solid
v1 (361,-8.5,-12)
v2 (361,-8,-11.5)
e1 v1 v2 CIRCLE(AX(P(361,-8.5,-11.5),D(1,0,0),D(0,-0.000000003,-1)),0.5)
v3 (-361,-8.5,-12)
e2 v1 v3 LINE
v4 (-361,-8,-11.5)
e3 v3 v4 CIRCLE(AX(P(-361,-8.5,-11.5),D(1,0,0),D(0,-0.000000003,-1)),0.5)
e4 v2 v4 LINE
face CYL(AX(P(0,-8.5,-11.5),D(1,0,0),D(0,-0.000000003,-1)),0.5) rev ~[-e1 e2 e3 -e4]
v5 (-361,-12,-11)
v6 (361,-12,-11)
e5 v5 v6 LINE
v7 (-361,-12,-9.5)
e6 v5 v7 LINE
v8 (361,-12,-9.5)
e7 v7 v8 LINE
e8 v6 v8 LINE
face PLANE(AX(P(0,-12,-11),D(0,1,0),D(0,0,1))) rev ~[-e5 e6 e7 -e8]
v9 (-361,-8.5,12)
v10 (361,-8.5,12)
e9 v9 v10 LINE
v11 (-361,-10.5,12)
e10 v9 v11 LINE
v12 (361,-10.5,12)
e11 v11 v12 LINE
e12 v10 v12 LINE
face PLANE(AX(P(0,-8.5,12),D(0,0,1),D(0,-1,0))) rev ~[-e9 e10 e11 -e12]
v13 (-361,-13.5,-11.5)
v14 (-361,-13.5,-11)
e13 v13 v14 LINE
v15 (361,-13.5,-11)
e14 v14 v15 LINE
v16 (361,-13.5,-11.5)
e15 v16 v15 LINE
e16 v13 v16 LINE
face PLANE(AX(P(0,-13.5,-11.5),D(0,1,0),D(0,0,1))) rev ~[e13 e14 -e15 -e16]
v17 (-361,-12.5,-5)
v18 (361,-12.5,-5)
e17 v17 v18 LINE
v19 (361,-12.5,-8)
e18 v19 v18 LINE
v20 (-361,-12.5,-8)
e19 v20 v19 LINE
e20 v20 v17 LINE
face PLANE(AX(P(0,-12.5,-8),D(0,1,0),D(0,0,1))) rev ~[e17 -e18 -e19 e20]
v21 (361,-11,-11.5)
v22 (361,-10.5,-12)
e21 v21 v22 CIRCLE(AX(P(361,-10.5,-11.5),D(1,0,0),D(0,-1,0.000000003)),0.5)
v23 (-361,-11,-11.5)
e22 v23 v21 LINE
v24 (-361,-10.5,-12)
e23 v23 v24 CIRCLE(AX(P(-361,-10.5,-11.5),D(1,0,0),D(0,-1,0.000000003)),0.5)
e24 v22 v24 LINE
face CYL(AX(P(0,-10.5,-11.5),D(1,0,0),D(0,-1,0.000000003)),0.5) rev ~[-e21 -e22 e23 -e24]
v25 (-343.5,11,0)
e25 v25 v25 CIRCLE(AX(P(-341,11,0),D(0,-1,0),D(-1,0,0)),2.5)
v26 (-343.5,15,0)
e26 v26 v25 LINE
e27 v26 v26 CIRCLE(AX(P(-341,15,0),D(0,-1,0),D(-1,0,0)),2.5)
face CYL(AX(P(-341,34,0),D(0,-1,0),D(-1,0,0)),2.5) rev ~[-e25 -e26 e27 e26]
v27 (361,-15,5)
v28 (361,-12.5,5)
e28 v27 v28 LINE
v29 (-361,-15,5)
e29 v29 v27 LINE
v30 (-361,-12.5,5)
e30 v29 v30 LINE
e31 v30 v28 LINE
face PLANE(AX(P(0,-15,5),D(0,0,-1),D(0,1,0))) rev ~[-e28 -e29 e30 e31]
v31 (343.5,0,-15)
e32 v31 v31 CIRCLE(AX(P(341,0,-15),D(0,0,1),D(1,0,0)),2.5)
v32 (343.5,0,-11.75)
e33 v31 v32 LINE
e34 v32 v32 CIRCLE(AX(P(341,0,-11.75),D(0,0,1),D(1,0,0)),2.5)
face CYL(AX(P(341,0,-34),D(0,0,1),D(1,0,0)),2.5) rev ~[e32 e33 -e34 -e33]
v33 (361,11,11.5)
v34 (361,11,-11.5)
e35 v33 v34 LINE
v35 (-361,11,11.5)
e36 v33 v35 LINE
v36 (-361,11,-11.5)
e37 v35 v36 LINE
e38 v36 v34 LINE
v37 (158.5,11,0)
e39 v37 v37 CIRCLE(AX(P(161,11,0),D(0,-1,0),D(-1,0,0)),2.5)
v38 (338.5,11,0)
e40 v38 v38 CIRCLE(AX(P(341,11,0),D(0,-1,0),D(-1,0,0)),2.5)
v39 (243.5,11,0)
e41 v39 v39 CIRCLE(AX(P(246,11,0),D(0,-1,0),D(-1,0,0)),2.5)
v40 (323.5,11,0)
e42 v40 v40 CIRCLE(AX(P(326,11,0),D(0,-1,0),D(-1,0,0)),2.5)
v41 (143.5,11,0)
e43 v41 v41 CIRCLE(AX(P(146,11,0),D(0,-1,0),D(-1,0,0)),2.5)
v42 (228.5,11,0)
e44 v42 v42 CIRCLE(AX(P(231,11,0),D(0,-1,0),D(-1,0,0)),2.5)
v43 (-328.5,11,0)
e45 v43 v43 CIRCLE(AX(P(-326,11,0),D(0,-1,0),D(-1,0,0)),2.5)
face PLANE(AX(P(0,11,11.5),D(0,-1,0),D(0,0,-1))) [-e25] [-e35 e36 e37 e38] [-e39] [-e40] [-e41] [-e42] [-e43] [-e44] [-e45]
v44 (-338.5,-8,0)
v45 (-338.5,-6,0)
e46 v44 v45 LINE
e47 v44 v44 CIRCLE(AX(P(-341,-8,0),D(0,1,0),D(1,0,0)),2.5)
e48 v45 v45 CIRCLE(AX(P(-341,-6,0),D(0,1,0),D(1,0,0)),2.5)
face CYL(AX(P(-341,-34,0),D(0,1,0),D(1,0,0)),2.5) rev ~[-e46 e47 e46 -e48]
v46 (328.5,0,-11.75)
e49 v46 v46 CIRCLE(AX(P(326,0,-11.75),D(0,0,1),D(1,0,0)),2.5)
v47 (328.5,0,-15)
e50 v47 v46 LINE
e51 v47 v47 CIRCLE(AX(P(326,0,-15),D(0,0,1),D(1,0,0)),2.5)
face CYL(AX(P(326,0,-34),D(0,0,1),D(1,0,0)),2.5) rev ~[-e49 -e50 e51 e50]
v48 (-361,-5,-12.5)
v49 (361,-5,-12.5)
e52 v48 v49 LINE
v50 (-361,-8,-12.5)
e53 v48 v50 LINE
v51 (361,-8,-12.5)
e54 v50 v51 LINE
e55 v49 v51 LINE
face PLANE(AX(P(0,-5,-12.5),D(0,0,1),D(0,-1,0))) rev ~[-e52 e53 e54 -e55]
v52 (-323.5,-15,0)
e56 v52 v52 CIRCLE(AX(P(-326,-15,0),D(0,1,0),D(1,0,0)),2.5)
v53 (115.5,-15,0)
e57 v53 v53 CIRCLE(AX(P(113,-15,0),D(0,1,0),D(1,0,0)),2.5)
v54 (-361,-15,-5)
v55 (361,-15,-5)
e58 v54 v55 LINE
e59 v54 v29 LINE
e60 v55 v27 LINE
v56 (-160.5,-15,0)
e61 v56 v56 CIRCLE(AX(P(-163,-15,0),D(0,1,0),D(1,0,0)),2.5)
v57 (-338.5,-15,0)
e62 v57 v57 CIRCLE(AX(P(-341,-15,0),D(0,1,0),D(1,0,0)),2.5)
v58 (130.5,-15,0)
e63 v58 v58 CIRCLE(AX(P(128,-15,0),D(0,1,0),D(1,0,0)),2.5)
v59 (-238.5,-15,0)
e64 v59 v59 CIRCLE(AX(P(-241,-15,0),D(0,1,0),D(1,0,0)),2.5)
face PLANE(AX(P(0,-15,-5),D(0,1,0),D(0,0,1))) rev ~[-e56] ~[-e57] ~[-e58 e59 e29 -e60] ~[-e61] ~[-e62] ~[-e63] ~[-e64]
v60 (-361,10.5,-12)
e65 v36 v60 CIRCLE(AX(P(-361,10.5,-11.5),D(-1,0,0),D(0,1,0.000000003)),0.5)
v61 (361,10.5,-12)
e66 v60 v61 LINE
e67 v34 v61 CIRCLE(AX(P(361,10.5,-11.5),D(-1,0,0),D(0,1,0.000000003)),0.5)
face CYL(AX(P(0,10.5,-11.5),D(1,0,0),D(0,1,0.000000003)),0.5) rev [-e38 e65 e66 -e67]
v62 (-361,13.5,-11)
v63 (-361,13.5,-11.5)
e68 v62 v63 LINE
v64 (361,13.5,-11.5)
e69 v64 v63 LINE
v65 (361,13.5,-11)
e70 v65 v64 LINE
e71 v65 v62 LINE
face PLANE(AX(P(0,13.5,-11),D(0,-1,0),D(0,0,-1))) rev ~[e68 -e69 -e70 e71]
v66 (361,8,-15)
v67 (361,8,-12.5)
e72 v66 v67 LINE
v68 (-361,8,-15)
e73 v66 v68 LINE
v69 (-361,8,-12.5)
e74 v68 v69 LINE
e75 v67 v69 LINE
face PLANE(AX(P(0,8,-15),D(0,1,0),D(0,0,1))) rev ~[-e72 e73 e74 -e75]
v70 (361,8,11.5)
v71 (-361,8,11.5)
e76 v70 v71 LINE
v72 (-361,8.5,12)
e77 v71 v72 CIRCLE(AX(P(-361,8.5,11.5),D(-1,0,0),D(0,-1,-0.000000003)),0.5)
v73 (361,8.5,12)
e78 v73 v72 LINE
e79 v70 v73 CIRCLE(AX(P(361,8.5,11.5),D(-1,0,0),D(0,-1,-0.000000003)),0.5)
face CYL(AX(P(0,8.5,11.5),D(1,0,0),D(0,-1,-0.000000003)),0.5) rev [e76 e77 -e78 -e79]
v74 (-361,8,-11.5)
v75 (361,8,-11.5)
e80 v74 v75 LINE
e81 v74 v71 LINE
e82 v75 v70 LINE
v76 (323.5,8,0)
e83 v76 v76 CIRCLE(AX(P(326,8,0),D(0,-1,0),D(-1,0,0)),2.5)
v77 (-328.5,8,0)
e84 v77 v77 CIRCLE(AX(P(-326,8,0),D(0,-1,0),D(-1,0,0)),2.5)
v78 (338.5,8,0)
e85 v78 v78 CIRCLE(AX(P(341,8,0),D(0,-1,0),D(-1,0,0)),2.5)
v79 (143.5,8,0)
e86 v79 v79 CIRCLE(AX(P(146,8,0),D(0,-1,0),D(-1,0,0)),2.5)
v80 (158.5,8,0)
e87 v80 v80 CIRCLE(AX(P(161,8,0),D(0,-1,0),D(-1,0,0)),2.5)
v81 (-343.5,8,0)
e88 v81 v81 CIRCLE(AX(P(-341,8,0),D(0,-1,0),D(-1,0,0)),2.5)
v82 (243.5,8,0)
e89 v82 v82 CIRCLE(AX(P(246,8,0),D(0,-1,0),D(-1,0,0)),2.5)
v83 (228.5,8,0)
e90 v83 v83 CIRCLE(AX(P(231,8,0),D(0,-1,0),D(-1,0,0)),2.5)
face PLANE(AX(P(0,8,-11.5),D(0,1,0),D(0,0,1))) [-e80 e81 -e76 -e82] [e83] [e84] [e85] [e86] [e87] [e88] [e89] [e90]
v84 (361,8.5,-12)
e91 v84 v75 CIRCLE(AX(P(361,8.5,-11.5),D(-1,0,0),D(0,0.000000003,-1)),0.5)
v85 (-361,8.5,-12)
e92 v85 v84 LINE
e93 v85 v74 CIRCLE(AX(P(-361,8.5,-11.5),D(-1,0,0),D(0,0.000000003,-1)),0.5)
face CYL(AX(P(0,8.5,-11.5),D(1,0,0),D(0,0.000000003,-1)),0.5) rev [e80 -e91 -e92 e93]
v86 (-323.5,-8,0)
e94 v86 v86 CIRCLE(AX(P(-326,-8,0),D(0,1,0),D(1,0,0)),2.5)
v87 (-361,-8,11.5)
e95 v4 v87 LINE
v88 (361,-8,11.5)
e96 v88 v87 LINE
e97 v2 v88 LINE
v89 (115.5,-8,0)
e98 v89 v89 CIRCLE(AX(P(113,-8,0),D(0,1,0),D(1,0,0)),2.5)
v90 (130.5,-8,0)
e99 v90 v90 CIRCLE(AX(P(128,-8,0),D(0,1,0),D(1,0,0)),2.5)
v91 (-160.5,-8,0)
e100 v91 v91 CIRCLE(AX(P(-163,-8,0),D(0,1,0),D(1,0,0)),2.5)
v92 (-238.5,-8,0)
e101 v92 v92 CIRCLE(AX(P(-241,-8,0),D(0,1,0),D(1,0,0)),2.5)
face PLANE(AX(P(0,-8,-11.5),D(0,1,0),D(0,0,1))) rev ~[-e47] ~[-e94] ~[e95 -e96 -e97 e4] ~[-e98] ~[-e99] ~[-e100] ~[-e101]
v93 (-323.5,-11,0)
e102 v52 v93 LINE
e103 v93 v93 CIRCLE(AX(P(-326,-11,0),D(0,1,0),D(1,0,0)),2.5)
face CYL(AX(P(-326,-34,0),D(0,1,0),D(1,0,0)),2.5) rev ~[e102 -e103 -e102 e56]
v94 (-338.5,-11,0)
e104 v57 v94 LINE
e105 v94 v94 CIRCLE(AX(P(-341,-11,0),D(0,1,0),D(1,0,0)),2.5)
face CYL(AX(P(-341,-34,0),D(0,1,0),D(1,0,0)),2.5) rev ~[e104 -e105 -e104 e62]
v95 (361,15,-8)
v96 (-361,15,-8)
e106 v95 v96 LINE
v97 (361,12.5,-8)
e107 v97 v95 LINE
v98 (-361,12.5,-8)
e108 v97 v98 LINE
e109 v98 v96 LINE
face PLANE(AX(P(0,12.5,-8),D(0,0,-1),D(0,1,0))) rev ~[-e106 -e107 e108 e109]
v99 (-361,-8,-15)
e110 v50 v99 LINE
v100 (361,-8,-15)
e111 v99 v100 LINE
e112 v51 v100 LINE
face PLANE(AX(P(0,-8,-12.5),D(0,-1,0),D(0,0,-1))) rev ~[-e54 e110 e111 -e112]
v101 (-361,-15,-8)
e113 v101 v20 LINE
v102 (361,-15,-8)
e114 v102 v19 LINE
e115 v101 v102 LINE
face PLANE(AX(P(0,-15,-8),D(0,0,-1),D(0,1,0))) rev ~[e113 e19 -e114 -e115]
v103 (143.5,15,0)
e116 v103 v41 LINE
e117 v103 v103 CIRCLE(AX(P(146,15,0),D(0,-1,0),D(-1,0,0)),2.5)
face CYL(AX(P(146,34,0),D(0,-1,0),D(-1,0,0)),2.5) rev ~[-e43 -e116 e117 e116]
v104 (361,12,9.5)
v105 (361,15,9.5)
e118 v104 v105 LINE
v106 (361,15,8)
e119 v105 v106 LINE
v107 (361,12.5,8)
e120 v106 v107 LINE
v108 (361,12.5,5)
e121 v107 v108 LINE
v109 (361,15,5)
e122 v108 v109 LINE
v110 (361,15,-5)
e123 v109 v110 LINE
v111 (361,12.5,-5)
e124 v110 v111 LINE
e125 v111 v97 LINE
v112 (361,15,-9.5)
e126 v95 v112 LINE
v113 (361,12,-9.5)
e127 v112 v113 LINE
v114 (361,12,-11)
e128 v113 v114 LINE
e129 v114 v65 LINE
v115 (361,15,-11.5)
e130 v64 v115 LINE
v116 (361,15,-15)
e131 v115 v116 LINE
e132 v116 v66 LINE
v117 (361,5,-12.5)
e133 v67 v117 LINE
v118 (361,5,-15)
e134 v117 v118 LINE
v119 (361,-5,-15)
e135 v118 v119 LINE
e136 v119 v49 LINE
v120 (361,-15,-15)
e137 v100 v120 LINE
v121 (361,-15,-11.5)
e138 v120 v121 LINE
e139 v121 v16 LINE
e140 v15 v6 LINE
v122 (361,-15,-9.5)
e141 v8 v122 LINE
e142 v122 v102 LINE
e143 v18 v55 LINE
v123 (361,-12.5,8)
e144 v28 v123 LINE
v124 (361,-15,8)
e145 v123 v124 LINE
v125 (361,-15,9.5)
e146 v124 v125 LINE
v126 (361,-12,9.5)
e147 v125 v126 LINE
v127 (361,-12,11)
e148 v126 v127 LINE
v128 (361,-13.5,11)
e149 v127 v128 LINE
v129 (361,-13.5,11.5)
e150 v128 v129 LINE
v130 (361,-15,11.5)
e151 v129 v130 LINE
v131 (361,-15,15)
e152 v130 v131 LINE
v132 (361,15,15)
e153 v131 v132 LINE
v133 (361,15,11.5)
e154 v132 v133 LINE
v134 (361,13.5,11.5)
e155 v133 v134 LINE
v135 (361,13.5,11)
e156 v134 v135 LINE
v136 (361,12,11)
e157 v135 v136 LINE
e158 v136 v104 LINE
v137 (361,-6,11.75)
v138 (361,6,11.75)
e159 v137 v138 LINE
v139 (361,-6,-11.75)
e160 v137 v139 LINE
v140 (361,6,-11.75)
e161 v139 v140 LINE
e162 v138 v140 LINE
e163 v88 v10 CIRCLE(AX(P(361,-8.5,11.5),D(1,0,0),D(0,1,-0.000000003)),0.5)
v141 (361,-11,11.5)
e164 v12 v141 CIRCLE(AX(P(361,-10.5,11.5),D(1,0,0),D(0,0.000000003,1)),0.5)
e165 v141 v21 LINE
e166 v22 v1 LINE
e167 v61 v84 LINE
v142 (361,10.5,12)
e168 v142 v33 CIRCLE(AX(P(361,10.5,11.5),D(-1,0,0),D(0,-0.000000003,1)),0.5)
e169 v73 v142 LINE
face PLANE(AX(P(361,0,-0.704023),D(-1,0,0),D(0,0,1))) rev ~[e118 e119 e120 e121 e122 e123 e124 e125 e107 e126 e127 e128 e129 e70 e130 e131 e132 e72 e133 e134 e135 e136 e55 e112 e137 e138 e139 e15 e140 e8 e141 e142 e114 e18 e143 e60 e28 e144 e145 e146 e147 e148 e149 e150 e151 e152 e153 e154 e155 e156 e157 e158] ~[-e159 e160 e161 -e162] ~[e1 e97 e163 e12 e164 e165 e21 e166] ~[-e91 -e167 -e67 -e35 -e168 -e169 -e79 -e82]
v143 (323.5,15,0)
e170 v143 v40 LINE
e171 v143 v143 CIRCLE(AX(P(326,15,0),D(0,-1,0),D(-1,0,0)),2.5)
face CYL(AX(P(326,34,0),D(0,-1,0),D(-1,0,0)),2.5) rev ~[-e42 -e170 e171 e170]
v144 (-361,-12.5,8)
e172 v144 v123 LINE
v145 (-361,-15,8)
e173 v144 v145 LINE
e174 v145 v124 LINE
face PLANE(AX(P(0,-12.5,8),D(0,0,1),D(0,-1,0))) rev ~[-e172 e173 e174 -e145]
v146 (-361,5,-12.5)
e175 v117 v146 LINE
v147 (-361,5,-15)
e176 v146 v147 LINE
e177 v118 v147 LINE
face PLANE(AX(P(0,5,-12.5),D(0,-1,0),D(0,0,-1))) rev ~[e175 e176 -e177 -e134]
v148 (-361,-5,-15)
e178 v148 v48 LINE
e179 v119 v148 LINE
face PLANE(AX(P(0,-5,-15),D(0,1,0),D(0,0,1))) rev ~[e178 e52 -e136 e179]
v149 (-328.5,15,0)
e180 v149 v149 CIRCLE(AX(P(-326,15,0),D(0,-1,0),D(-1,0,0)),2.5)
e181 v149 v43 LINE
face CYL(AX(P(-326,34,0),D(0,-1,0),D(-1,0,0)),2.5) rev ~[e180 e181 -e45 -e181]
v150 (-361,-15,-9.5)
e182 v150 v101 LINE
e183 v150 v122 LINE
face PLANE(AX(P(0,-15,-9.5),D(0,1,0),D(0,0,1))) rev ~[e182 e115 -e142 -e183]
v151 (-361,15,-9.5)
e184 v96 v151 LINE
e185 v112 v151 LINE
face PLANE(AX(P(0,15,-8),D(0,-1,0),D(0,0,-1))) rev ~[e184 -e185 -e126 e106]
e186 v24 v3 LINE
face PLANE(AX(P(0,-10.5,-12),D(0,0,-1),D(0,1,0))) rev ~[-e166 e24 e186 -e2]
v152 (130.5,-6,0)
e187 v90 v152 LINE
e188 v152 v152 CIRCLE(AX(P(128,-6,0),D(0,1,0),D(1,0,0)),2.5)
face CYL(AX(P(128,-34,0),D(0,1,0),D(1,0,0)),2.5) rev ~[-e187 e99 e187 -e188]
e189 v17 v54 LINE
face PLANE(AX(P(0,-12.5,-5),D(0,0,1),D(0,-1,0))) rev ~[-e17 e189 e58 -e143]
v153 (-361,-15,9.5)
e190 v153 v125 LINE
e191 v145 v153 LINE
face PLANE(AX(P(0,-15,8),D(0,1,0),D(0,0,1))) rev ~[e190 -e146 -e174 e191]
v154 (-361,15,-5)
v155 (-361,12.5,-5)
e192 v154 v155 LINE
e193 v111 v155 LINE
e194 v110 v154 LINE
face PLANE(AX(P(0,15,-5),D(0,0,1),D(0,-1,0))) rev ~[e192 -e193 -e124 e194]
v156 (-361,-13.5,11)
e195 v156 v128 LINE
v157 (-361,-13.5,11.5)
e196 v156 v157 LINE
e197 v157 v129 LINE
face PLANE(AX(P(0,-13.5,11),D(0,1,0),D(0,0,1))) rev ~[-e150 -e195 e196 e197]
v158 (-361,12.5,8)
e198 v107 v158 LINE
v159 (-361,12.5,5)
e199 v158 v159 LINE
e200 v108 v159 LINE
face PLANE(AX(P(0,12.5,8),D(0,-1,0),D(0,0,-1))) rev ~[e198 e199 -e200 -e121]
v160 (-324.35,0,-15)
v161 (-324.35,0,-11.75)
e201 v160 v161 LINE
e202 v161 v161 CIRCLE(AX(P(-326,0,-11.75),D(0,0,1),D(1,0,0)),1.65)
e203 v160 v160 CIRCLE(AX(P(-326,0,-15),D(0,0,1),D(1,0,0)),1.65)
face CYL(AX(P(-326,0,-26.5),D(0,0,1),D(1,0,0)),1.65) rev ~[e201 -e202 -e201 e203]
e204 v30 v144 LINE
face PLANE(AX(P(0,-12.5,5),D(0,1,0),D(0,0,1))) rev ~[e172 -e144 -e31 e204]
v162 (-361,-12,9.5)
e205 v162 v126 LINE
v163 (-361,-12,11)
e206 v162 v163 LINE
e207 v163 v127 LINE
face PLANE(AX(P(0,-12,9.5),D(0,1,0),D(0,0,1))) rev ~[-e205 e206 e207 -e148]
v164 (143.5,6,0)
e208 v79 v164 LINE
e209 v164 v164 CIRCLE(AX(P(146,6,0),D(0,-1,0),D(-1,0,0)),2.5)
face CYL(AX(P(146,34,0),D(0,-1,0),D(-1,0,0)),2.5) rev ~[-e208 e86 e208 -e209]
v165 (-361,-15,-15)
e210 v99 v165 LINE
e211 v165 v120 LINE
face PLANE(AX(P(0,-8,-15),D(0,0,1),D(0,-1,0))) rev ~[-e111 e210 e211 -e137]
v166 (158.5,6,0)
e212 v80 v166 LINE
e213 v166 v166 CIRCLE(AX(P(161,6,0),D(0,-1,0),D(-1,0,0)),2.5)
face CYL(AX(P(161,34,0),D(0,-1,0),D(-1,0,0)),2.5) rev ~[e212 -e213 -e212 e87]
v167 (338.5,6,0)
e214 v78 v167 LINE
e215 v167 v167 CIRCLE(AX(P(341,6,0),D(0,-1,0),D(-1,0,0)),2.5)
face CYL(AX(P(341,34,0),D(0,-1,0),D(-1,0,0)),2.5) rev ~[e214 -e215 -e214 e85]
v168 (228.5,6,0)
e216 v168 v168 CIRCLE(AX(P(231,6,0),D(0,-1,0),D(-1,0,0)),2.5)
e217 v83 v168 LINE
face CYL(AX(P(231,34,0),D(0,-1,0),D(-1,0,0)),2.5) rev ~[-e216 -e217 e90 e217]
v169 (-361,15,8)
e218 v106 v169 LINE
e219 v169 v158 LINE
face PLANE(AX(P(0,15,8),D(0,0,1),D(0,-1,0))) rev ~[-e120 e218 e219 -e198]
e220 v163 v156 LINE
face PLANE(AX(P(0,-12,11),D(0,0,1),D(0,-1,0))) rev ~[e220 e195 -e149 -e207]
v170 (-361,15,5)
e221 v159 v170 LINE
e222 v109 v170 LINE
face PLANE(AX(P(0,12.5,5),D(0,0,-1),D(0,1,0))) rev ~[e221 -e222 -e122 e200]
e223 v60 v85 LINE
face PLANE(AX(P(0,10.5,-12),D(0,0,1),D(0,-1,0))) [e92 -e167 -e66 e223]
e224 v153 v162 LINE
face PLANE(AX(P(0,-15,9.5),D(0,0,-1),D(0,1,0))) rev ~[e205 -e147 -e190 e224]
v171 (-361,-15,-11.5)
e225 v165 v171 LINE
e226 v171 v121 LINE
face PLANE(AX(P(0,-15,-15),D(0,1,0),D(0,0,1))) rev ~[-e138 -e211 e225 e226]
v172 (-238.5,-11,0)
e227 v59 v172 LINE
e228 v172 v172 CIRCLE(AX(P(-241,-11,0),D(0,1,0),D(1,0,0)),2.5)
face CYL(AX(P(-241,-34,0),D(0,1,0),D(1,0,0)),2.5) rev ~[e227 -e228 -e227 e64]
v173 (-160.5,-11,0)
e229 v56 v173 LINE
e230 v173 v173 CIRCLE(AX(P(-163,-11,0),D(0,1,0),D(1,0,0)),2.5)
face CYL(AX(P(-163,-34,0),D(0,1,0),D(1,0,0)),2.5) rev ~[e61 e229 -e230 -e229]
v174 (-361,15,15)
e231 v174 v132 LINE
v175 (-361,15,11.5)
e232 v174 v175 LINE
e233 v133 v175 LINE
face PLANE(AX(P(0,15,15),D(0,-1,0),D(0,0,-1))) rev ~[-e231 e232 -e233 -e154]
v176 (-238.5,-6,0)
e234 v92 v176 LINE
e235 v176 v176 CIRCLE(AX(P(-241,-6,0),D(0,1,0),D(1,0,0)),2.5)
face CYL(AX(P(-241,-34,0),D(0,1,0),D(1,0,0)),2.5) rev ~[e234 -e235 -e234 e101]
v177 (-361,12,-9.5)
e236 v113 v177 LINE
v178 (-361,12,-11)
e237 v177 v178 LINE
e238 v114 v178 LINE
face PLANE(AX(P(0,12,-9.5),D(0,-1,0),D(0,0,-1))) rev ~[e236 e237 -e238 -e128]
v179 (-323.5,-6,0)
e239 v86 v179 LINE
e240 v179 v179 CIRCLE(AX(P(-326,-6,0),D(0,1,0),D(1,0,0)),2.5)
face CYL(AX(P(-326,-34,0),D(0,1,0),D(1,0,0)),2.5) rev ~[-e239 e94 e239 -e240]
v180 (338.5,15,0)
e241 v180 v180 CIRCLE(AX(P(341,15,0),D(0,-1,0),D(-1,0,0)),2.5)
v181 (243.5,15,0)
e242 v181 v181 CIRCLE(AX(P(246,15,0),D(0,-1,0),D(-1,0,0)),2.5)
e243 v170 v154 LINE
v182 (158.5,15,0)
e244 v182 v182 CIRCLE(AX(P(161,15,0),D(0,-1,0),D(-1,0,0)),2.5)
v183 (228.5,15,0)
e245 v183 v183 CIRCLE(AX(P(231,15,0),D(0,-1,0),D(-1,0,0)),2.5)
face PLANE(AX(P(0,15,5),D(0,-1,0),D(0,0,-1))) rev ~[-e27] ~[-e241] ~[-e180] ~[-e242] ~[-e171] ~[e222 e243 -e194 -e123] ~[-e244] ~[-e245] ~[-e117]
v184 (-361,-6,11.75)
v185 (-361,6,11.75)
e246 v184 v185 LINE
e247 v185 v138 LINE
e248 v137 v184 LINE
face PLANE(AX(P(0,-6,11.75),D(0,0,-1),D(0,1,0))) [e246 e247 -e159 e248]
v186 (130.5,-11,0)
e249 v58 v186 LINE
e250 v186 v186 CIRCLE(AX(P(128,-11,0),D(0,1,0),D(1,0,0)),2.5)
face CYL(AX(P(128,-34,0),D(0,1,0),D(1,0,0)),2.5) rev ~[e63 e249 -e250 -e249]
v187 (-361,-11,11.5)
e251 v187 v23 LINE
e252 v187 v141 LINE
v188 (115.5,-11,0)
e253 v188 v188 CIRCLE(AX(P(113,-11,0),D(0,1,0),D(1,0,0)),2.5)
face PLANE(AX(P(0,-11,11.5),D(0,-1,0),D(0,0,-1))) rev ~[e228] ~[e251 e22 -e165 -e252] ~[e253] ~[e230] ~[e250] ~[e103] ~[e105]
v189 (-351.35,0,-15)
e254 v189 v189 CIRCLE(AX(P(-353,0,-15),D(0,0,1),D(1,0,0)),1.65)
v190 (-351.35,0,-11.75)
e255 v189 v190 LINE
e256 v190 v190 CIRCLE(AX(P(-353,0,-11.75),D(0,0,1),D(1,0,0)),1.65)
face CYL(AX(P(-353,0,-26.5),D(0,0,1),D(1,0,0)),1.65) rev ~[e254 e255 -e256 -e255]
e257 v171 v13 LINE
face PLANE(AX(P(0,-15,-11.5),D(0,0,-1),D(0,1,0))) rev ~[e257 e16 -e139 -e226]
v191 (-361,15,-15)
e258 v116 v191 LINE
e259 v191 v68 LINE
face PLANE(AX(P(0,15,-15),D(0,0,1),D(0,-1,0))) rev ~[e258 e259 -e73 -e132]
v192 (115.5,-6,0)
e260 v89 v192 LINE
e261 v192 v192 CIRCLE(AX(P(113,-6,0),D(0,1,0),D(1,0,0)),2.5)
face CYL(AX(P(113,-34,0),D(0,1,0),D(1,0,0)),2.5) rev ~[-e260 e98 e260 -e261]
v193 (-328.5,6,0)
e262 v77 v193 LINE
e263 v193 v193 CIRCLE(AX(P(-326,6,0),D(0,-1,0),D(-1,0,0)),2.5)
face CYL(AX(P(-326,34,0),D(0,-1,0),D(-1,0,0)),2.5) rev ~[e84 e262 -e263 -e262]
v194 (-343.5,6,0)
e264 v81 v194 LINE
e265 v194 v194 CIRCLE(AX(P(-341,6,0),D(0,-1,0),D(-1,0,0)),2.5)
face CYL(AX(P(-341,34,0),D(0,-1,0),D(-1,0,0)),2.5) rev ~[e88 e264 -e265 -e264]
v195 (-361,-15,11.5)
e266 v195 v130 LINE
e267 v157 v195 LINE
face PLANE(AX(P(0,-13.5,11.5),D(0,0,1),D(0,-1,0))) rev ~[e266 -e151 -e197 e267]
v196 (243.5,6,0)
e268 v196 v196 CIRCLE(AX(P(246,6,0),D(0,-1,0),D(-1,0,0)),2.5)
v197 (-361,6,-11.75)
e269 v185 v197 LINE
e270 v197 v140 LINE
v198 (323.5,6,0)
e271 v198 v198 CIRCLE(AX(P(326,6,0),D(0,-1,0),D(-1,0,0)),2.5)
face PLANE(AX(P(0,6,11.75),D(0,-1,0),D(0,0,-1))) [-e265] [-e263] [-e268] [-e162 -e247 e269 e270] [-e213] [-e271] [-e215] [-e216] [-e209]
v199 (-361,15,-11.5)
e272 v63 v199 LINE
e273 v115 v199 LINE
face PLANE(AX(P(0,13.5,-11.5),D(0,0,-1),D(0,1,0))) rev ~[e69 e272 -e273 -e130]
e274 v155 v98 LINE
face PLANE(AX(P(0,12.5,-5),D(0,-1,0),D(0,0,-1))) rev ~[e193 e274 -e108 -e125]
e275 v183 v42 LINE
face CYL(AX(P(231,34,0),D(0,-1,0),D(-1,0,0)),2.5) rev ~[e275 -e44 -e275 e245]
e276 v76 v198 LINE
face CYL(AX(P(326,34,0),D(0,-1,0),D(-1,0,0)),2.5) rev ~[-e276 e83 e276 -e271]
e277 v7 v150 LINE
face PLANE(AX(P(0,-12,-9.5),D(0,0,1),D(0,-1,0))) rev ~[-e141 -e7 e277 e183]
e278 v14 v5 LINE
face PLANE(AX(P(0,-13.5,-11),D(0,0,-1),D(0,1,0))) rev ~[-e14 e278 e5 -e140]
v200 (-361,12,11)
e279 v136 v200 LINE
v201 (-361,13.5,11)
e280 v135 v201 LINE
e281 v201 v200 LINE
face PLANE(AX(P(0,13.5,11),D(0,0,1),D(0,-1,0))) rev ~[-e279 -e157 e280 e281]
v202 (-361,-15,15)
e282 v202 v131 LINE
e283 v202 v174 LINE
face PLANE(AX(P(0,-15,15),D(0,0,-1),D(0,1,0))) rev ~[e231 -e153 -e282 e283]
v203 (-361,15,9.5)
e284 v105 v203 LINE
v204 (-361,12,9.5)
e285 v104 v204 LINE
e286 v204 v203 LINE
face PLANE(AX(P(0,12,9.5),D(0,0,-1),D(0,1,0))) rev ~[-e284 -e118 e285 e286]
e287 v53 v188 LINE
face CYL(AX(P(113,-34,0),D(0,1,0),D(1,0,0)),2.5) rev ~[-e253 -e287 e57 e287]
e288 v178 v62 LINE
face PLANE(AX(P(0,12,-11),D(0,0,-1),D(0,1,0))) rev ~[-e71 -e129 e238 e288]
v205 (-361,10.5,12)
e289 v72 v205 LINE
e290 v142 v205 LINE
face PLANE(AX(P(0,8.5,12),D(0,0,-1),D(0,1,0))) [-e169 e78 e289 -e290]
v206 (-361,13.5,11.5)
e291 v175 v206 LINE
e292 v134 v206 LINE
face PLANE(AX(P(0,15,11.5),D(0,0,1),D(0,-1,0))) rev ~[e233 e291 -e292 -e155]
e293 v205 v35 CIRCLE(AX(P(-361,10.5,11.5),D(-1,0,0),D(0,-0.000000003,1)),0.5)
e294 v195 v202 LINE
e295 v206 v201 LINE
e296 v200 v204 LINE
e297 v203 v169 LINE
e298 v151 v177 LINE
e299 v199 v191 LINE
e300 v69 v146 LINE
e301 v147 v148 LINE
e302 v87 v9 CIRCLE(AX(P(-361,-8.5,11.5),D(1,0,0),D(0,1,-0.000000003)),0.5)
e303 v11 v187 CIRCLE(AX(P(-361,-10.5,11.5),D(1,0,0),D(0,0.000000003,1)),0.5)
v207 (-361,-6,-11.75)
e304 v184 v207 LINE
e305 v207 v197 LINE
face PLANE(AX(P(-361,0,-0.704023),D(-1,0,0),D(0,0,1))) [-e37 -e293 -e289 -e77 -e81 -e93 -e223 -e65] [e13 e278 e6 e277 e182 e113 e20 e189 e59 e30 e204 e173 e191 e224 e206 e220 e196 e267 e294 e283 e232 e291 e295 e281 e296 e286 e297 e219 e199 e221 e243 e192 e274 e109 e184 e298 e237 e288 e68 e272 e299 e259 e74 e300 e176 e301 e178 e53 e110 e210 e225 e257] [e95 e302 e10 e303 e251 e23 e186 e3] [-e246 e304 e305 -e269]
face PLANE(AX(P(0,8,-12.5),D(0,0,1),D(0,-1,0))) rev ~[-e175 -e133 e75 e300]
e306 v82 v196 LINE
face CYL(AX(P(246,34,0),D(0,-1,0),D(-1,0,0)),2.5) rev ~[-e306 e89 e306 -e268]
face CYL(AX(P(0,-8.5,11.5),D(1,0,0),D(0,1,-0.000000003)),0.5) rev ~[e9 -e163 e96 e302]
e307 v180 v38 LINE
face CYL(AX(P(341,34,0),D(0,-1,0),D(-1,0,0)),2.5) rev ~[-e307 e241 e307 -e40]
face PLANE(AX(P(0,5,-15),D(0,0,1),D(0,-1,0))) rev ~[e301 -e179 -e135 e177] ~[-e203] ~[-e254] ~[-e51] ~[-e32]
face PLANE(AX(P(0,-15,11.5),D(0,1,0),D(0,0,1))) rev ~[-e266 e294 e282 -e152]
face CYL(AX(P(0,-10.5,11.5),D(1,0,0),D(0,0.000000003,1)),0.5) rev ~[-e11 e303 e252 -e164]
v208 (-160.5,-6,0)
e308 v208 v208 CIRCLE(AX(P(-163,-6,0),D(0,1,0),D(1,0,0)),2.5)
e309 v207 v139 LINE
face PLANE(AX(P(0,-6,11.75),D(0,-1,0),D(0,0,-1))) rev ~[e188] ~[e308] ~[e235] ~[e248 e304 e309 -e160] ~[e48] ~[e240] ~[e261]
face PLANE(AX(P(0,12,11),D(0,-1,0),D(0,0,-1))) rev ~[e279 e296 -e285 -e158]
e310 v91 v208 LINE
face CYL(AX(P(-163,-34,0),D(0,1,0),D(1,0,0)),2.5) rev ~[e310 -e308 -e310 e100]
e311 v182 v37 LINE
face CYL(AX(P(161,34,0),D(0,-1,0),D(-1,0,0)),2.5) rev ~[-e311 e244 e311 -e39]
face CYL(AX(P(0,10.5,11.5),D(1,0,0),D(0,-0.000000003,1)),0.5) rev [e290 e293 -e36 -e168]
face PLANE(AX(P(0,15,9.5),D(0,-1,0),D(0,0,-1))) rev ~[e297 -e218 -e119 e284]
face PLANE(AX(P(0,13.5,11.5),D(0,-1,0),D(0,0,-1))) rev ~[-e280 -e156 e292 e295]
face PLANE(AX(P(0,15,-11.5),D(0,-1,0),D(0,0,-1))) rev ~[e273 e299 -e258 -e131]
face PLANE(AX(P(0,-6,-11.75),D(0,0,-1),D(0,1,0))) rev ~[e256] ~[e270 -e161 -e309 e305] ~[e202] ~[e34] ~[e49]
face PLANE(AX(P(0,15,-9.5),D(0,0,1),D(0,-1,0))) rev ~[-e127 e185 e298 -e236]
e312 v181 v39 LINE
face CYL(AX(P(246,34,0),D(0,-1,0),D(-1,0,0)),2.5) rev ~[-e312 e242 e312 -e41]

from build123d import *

# Parameters (mm, degrees)
SKETCH_1_W             = 23.5
SKETCH_1_H             = 12
EXTRUDE_1_DEPTH        = 361
HOLE_WIZARD_M6_1_D     = 5
HOLE_WIZARD_M6_1_DEPTH = 19
HOLE_WIZARD_M6_1_TIP   = 1.502151548
HOLE_WIZARD_M6_2_D     = 5
HOLE_WIZARD_M6_2_DEPTH = 19
HOLE_WIZARD_M6_2_TIP   = 1.502151548
HOLE_WIZARD_M4_1_D     = 3.3
HOLE_WIZARD_M4_1_DEPTH = 11.5
HOLE_WIZARD_M4_1_TIP   = 0.991420021
HOLE_WIZARD_M6_4_D     = 5
HOLE_WIZARD_M6_4_DEPTH = 19
HOLE_WIZARD_M6_4_TIP   = 1.502151548


with BuildPart() as part:
    # 草图1 → 凸台-拉伸1 (new, symmetric)
    with BuildSketch(Plane(origin=(0, 0, 0), x_dir=(0, 0, -1), z_dir=(1, 0, 0))):
        Polygon((-15, 15), (-11.5, 15), (-11.5, 13.5), (-11, 13.5), (-11, 12), (-9.5, 12), (-9.5, 15), (-8, 15), (-8, 12.5), (-5, 12.5), (-5, 15), (5, 15), (5, 12.5), (8, 12.5), (8, 15), (9.5, 15), (9.5, 12), (11, 12), (11, 13.5), (11.5, 13.5), (11.5, 15), (15, 15), (15, 8), (12.5, 8), (12.5, 5), (15, 5), (15, -5), (12.5, -5), (12.5, -8), (15, -8), (15, -15), (11.5, -15), (11.5, -13.5), (11, -13.5), (11, -12), (9.5, -12), (9.5, -15), (8, -15), (8, -12.5), (5, -12.5), (5, -15), (-5, -15), (-5, -12.5), (-8, -12.5), (-8, -15), (-9.5, -15), (-9.5, -12), (-11, -12), (-11, -13.5), (-11.5, -13.5), (-11.5, -15), (-15, -15), align=None)
        with BuildLine():
            Line((12, -10.5), (12, -8.5))
            ThreePointArc((12, -8.5), (11.853553391, -8.146446609), (11.5, -8))
            Line((11.5, -8), (-11.5, -8))
            ThreePointArc((-11.5, -8), (-11.853553391, -8.146446609), (-12, -8.5))
            Line((-12, -8.5), (-12, -10.5))
            ThreePointArc((-12, -10.5), (-11.853553391, -10.853553391), (-11.5, -11))
            Line((-11.5, -11), (11.5, -11))
            ThreePointArc((11.5, -11), (11.853553391, -10.853553391), (12, -10.5))
        make_face(mode=Mode.SUBTRACT)
        with BuildLine():
            Line((-11.5, 11), (11.5, 11))
            ThreePointArc((11.5, 11), (11.853553391, 10.853553391), (12, 10.5))
            Line((12, 10.5), (12, 8.5))
            ThreePointArc((12, 8.5), (11.853553391, 8.146446609), (11.5, 8))
            Line((11.5, 8), (-11.5, 8))
            ThreePointArc((-11.5, 8), (-11.853553391, 8.146446609), (-12, 8.5))
            Line((-12, 8.5), (-12, 10.5))
            ThreePointArc((-12, 10.5), (-11.853553391, 10.853553391), (-11.5, 11))
        make_face(mode=Mode.SUBTRACT)
        Rectangle(SKETCH_1_W, SKETCH_1_H, mode=Mode.SUBTRACT)
    extrude(amount=EXTRUDE_1_DEPTH, both=True)

    # M6 螺纹孔1
    with Locations(Plane(origin=(0, 15, 0), x_dir=(1, 0, 0), z_dir=(0, 1, 0))):
        with Locations((341, 0), (326, 0), (246, 0), (231, 0), (161, 0), (146, 0), (-326, 0), (-341, 0)):
            Hole(HOLE_WIZARD_M6_1_D / 2, depth=HOLE_WIZARD_M6_1_DEPTH)
            with Locations((0, 0, -(HOLE_WIZARD_M6_1_DEPTH + HOLE_WIZARD_M6_1_TIP / 2))):  # 118° drill point
                Cone(0, HOLE_WIZARD_M6_1_D / 2, HOLE_WIZARD_M6_1_TIP, mode=Mode.SUBTRACT)

    # M6 螺纹孔2
    with Locations(Plane(origin=(0, -15, 0), x_dir=(-1, 0, 0), z_dir=(0, -1, 0))):
        with Locations((-128, 0), (-113, 0), (326, 0), (341, 0), (241, 0), (163, 0)):
            Hole(HOLE_WIZARD_M6_2_D / 2, depth=HOLE_WIZARD_M6_2_DEPTH)
            with Locations((0, 0, -(HOLE_WIZARD_M6_2_DEPTH + HOLE_WIZARD_M6_2_TIP / 2))):  # 118° drill point
                Cone(0, HOLE_WIZARD_M6_2_D / 2, HOLE_WIZARD_M6_2_TIP, mode=Mode.SUBTRACT)

    # M4 螺纹孔1
    with Locations(Plane(origin=(0, 0, -15), x_dir=(-1, 0, 0), z_dir=(0, 0, -1))):
        with Locations((353, 0), (326, 0)):
            Hole(HOLE_WIZARD_M4_1_D / 2, depth=HOLE_WIZARD_M4_1_DEPTH)
            with Locations((0, 0, -(HOLE_WIZARD_M4_1_DEPTH + HOLE_WIZARD_M4_1_TIP / 2))):  # 118° drill point
                Cone(0, HOLE_WIZARD_M4_1_D / 2, HOLE_WIZARD_M4_1_TIP, mode=Mode.SUBTRACT)

    # M6 螺纹孔4
    with Locations(Plane(origin=(0, 0, -15), x_dir=(-1, 0, 0), z_dir=(0, 0, -1))):
        with Locations((-326, 0), (-341, 0)):
            Hole(HOLE_WIZARD_M6_4_D / 2, depth=HOLE_WIZARD_M6_4_DEPTH)
            with Locations((0, 0, -(HOLE_WIZARD_M6_4_DEPTH + HOLE_WIZARD_M6_4_TIP / 2))):  # 118° drill point
                Cone(0, HOLE_WIZARD_M6_4_D / 2, HOLE_WIZARD_M6_4_TIP, mode=Mode.SUBTRACT)


solid = part.part
